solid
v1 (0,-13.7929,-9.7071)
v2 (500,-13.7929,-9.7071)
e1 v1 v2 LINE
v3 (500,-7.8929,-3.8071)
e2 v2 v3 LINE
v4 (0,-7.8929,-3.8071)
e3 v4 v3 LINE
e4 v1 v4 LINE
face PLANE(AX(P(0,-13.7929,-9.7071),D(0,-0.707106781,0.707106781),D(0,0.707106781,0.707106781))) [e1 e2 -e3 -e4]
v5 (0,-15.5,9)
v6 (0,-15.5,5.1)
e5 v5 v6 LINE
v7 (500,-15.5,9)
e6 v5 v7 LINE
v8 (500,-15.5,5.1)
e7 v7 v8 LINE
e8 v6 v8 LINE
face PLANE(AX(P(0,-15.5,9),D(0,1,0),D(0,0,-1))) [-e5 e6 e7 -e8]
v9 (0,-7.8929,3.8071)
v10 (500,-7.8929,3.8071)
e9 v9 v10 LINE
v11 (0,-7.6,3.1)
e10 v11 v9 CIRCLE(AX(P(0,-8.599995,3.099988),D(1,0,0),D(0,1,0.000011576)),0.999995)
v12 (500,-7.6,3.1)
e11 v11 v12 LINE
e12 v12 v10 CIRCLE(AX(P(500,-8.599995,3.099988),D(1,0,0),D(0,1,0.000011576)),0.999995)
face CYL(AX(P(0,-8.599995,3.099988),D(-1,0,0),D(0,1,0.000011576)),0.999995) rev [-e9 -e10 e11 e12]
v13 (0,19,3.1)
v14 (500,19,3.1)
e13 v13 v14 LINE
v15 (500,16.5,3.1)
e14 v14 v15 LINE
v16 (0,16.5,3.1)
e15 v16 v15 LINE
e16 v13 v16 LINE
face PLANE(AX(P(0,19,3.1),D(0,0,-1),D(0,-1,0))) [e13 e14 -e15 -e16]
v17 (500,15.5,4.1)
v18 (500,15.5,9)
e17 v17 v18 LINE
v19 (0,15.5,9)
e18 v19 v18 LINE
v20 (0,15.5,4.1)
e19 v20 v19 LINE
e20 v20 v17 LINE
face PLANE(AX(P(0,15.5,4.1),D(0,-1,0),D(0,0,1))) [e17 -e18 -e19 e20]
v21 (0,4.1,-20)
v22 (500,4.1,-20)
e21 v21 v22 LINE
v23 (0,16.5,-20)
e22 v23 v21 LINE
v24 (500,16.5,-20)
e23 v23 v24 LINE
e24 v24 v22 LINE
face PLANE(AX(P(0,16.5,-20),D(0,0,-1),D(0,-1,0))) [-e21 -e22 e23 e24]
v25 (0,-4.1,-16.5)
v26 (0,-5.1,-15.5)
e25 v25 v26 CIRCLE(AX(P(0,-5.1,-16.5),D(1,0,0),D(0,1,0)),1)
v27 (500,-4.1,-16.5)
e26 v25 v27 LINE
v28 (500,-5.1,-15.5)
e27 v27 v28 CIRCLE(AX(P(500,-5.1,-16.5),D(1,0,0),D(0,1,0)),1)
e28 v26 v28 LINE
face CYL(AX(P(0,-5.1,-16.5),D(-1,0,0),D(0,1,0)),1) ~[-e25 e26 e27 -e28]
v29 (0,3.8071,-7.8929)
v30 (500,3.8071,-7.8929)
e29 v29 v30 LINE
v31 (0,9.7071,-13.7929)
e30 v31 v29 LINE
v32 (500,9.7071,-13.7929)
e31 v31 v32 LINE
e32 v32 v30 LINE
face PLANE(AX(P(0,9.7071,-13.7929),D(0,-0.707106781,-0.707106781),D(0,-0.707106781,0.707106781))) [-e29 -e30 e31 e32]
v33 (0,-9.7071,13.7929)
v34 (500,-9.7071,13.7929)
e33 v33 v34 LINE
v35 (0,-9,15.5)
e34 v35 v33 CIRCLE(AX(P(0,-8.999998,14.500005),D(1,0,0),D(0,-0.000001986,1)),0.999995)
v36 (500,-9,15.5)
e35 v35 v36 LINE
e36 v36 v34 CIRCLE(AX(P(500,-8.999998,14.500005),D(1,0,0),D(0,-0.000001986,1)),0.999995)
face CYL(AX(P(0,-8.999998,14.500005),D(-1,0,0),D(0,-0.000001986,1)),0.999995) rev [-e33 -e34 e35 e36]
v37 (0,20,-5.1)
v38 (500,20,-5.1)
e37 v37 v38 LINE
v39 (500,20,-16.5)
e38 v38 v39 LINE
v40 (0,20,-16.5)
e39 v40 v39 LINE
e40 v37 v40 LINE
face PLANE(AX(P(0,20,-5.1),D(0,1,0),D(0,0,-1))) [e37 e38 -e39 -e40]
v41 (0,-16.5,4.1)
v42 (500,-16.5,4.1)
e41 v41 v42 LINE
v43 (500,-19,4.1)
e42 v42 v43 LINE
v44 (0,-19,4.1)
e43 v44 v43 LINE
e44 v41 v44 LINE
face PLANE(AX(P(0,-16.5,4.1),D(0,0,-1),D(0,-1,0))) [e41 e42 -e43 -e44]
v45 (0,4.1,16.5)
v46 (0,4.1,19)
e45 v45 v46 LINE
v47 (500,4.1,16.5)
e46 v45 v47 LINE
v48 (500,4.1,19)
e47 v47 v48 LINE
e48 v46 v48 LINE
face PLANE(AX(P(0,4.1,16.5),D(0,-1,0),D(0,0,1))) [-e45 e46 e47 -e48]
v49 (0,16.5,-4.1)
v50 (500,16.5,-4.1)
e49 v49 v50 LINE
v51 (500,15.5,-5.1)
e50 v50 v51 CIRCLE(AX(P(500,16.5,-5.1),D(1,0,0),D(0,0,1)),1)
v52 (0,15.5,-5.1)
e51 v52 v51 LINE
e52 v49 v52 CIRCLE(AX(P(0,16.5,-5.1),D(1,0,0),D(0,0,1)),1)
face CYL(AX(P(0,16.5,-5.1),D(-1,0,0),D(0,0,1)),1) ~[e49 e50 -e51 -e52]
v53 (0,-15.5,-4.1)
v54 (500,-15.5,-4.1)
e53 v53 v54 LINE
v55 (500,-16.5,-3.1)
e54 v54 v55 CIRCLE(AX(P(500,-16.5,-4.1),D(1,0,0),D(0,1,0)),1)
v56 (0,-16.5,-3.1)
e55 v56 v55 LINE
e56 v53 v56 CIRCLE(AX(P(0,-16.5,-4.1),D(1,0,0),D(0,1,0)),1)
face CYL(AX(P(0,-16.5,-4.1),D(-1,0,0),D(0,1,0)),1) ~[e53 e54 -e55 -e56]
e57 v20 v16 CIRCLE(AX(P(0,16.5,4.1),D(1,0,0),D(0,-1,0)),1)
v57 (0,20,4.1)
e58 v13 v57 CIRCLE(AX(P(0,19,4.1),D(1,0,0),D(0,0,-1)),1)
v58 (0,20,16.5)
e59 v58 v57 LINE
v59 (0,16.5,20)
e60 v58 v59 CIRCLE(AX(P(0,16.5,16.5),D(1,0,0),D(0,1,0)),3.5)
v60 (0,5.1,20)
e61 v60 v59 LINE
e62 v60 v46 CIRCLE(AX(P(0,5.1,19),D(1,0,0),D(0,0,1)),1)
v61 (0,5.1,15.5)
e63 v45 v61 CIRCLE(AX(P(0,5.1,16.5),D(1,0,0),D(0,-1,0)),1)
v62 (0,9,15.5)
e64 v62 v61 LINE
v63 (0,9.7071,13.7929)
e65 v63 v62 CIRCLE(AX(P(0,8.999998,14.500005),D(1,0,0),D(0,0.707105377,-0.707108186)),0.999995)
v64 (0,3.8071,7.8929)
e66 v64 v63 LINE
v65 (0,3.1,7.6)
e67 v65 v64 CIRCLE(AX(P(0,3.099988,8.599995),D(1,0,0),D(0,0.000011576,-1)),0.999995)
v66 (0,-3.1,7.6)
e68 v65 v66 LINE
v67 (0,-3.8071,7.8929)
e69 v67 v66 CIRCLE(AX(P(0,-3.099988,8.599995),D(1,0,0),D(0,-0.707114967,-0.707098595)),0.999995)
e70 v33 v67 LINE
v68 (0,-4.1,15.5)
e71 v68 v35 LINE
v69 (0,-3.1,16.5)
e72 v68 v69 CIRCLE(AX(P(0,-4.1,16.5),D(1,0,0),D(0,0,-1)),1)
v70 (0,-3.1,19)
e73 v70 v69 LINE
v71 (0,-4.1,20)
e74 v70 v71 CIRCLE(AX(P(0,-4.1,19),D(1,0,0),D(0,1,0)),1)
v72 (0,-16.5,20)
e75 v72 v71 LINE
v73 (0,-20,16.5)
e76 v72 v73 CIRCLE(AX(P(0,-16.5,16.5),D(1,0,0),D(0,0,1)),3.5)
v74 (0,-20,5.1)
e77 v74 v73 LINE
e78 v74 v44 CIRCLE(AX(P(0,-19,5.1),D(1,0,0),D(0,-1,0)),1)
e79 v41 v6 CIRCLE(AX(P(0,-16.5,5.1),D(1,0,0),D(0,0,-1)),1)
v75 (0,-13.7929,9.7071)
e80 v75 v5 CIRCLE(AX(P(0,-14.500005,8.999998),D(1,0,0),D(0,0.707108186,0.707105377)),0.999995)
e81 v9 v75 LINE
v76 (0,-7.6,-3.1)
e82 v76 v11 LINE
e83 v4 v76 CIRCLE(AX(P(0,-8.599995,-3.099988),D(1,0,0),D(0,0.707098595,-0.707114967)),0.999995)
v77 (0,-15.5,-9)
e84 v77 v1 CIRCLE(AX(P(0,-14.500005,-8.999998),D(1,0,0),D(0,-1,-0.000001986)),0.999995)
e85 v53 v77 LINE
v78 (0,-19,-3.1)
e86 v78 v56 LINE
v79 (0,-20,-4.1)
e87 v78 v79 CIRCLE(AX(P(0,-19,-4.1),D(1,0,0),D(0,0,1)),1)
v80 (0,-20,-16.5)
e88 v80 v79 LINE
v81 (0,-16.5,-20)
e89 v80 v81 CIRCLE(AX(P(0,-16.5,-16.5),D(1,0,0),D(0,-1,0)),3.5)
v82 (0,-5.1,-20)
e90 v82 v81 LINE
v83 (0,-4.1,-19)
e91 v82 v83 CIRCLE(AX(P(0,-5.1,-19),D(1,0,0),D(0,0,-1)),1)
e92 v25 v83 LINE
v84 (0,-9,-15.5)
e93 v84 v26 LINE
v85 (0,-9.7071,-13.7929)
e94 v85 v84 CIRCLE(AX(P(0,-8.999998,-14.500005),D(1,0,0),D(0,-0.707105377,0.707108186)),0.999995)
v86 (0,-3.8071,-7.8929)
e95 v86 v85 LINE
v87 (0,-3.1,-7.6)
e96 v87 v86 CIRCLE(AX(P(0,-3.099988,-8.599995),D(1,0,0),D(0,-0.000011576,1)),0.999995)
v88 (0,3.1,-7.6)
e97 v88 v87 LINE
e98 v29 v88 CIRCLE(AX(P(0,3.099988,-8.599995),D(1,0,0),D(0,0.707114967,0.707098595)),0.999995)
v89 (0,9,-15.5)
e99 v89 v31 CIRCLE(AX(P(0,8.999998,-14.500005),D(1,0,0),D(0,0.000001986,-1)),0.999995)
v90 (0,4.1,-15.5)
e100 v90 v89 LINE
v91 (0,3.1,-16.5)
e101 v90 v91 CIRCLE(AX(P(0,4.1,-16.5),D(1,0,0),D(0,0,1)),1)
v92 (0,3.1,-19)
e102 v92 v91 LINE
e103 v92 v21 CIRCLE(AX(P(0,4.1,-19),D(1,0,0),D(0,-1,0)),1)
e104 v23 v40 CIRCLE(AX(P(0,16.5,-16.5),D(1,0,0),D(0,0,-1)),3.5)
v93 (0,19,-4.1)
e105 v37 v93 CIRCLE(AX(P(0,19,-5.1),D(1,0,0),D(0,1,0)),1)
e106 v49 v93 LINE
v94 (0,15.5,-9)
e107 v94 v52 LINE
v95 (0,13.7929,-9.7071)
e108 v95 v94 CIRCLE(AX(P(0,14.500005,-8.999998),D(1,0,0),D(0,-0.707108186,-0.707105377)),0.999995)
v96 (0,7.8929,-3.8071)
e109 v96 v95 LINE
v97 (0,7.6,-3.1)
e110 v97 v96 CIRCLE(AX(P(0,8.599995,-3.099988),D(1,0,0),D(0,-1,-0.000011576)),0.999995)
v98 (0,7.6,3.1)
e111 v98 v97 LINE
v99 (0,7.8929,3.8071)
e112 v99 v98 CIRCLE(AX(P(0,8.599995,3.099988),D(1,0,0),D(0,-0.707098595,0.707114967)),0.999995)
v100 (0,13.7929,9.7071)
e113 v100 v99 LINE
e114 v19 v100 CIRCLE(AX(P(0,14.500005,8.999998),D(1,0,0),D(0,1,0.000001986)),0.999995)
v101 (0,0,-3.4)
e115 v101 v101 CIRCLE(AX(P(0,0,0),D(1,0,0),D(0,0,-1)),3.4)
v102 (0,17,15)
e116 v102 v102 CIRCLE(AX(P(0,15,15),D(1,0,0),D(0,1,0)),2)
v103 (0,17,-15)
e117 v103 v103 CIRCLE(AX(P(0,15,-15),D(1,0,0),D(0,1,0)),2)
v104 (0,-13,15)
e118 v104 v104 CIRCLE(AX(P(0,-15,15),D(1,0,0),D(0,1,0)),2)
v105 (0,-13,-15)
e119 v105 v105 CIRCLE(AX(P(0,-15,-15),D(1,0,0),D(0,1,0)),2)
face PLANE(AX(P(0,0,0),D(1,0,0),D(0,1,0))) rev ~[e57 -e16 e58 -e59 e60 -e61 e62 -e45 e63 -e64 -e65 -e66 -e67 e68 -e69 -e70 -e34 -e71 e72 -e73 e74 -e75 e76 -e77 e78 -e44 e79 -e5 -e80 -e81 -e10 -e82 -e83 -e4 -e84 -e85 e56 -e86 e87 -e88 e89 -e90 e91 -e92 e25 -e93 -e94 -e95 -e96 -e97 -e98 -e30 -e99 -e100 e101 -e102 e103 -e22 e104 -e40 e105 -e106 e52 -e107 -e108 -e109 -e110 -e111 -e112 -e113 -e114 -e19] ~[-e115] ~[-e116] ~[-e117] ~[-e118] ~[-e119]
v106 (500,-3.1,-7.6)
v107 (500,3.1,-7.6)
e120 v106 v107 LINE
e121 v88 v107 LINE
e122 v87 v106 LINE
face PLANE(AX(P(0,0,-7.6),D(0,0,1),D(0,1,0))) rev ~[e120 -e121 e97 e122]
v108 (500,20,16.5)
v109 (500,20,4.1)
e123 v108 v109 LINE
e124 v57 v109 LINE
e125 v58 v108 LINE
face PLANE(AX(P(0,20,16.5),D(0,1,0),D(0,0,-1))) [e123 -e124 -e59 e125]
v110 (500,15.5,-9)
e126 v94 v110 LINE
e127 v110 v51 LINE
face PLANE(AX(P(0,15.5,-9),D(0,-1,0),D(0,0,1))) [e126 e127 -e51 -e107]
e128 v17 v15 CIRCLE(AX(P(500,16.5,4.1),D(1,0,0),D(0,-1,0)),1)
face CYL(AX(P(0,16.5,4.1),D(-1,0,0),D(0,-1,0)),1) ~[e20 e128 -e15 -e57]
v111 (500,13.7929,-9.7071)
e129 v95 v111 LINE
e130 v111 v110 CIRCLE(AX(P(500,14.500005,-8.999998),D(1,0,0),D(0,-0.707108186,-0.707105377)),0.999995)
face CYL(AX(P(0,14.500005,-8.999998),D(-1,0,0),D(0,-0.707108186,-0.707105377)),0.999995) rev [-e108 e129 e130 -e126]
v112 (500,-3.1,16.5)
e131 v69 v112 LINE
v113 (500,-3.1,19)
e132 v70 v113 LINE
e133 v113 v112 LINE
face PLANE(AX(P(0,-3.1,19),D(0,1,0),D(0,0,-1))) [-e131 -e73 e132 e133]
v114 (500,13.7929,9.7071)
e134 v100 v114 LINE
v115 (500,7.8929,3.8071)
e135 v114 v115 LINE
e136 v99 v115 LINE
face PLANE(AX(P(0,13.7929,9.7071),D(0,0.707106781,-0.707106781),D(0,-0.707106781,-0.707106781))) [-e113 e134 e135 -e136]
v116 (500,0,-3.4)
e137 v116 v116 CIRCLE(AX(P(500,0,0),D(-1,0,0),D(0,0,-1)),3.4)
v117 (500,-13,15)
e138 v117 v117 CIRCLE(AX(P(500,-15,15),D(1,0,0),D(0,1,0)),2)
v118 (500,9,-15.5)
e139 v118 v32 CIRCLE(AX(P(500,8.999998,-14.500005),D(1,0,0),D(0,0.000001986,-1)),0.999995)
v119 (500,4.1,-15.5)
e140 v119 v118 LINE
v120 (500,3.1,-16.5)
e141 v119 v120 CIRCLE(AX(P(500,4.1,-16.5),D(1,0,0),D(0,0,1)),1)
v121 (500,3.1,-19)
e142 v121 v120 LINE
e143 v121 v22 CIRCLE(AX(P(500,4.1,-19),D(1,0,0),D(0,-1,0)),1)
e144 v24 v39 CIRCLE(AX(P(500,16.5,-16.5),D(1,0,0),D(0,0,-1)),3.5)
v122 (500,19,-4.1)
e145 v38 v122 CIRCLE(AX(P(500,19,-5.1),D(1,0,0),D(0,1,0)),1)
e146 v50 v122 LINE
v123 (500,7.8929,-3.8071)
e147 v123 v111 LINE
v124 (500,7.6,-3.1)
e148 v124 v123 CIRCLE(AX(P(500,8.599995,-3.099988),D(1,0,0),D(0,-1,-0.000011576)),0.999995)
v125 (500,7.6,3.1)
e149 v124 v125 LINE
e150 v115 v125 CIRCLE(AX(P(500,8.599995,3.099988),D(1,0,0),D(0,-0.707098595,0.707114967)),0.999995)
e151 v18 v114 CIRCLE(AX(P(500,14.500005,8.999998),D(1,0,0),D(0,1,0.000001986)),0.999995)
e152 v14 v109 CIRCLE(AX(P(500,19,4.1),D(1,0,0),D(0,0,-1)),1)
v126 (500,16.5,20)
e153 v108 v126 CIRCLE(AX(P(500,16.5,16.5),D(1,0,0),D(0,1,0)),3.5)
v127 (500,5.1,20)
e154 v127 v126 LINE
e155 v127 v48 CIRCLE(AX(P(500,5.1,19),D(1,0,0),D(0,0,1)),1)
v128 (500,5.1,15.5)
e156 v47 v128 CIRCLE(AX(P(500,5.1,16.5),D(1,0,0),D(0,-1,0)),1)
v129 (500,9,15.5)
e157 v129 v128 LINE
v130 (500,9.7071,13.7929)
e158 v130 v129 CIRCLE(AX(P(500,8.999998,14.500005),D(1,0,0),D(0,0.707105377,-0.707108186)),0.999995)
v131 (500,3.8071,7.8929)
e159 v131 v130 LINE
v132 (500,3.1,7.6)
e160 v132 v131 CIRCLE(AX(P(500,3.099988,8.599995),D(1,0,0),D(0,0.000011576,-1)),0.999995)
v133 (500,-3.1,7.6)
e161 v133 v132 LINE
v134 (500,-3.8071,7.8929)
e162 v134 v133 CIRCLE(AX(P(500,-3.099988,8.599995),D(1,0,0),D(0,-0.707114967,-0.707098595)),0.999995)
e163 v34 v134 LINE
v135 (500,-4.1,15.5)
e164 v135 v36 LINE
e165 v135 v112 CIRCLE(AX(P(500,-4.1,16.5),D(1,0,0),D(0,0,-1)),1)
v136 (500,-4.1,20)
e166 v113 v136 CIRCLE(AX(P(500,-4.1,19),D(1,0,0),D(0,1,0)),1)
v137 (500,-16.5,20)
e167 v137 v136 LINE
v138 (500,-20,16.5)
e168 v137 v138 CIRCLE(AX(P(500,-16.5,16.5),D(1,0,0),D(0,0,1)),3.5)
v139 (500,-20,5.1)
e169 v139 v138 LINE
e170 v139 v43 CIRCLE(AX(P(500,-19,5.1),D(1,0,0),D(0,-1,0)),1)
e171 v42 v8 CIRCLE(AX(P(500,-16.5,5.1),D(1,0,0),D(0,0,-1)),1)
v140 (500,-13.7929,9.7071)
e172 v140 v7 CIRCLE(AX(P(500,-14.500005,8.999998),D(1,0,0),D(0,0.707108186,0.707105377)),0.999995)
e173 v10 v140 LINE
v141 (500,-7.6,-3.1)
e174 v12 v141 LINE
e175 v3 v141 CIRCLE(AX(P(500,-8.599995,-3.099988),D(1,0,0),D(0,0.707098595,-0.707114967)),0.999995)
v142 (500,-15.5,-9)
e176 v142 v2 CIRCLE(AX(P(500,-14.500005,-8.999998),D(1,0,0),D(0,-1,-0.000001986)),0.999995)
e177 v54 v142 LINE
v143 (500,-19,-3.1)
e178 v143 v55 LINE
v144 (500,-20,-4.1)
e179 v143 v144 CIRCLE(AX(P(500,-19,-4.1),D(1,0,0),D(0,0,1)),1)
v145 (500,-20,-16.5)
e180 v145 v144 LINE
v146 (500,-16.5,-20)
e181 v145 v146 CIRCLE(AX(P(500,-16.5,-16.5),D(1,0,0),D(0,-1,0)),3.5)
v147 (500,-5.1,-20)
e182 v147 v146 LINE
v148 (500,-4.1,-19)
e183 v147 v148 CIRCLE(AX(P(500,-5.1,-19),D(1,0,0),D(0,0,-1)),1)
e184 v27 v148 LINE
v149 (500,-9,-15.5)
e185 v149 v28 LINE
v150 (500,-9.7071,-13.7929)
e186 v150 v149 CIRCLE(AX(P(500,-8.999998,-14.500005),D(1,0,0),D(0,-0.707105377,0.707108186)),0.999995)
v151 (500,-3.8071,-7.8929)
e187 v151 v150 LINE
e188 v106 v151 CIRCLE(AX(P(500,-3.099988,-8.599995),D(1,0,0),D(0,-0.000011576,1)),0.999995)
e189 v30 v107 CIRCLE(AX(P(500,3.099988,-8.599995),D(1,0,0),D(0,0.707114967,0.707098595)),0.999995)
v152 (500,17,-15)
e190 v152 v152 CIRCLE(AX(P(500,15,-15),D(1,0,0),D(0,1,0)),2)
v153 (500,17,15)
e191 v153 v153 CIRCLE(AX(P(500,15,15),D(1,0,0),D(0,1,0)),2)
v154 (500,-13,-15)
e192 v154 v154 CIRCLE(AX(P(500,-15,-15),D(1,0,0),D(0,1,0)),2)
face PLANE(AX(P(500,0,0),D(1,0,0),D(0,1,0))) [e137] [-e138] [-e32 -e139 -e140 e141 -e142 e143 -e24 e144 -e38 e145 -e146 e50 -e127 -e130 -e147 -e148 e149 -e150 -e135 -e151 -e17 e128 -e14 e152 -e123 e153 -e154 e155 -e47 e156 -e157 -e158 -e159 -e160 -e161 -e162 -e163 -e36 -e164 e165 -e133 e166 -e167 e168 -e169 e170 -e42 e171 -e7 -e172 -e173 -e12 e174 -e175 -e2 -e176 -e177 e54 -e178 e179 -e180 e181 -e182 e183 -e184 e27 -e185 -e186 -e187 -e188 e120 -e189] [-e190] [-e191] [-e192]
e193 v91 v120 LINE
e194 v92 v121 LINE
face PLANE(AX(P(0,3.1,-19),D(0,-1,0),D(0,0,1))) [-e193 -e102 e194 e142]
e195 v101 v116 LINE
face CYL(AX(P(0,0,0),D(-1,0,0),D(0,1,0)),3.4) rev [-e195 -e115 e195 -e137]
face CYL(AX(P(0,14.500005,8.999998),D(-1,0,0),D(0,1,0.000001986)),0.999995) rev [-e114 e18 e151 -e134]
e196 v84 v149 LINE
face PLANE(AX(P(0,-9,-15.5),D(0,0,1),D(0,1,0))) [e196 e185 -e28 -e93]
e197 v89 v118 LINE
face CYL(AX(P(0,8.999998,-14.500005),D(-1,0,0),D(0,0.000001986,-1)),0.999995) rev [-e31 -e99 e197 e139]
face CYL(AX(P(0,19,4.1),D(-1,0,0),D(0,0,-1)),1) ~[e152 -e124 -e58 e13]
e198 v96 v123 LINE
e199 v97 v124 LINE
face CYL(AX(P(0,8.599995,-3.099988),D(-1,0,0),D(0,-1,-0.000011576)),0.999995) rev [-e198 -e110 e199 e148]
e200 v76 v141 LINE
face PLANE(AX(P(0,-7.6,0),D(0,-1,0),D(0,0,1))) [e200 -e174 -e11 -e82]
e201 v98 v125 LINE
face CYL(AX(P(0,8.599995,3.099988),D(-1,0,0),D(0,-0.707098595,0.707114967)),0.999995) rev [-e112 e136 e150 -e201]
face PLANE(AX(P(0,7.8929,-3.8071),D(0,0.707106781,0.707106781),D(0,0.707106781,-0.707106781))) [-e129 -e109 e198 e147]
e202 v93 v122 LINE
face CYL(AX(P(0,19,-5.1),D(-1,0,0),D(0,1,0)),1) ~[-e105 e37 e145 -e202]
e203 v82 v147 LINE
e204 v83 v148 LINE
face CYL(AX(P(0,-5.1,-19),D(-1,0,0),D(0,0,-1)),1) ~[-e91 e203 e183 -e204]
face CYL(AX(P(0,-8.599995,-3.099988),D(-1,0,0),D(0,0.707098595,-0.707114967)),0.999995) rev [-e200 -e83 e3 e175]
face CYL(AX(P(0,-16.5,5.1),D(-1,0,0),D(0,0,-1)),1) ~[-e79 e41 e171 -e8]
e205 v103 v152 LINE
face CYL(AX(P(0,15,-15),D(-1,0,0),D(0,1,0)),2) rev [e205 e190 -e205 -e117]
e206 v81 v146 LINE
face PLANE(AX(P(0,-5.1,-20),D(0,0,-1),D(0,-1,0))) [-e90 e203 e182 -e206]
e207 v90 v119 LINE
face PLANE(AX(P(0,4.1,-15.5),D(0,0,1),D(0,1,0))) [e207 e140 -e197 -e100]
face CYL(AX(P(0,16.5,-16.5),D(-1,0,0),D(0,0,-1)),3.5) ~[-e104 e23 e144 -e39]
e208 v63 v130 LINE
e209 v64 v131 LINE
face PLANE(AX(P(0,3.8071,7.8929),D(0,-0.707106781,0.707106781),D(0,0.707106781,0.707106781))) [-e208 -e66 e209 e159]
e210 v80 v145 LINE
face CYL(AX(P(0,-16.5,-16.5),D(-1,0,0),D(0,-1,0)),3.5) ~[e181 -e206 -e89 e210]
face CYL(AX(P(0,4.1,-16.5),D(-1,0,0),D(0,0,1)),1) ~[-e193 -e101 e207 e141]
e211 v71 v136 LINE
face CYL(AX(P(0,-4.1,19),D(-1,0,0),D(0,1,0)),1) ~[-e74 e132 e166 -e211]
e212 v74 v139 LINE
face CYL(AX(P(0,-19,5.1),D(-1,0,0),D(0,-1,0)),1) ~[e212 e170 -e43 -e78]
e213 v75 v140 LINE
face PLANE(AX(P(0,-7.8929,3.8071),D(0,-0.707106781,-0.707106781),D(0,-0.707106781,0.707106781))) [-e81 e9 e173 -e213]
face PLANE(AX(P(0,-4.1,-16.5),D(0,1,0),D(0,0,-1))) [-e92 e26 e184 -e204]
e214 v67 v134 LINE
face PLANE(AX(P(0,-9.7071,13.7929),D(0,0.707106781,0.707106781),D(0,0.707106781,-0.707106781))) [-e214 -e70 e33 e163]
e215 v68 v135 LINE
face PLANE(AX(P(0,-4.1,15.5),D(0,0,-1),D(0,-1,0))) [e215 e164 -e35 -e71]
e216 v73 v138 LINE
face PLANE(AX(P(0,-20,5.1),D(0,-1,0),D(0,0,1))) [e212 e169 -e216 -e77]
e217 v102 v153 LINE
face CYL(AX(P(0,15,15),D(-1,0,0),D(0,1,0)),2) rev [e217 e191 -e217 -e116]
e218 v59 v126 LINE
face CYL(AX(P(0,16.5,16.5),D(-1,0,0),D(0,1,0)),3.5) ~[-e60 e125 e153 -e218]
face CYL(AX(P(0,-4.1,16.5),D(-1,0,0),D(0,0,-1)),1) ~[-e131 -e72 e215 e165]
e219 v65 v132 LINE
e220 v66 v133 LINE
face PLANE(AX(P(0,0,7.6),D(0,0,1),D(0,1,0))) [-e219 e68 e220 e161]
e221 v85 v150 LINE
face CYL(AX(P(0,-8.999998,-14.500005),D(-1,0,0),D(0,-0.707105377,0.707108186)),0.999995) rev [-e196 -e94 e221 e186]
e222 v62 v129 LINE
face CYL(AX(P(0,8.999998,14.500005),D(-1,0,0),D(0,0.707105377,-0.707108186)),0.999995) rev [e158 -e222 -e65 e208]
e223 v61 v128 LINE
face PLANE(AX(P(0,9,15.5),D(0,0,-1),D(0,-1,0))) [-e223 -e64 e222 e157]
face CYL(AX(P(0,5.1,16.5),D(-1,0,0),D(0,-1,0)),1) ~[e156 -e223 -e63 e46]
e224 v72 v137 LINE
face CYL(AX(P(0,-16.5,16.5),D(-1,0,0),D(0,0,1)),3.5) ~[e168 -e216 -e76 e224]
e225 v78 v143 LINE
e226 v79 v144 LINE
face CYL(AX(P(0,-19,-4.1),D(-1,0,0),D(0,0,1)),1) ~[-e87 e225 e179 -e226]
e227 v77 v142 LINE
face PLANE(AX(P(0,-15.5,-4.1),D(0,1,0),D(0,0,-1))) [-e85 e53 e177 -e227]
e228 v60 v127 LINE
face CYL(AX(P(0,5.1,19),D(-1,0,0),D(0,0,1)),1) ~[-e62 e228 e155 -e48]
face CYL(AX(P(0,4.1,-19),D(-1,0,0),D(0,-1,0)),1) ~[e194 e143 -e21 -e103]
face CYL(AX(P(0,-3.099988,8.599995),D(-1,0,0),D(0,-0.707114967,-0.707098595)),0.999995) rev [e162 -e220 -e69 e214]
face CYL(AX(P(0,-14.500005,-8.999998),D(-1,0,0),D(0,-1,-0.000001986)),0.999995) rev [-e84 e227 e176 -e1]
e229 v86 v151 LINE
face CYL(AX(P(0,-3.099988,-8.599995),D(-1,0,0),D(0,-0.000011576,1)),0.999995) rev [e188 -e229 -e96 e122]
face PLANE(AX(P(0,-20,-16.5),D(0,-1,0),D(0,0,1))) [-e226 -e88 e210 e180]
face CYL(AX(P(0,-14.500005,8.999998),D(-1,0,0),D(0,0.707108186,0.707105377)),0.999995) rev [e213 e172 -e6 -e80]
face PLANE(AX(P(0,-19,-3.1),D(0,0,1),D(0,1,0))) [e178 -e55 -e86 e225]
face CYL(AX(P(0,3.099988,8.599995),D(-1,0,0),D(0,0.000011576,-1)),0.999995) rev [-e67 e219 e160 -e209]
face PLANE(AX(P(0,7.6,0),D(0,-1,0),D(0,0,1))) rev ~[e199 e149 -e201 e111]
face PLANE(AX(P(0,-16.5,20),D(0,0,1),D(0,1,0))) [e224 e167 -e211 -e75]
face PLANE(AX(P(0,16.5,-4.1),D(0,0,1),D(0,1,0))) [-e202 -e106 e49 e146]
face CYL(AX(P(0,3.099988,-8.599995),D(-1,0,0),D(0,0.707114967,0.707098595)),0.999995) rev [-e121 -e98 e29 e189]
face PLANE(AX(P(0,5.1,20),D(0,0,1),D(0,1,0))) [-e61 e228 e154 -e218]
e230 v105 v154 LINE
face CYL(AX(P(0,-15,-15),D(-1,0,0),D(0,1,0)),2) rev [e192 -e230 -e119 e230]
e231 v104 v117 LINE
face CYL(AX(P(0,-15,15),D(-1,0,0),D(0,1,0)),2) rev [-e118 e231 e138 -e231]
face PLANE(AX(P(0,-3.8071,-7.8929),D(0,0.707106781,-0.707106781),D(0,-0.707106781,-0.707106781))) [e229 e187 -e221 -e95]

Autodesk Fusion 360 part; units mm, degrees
sketch "Sketch1" plane through (0, 0, 0) normal (1, 0, 0) x (0, 1, 0)
  line L0 (0, 0) -> (0, 40) construction
  line L1 (0, 0) -> (40, 0) construction
  line L2 (0, 7.6) -> (3.1, 7.6)
  arc A0 (3.1, 7.6) -> (3.8071, 7.8929) centre (3.1, 8.6) ccw
  line L3 (3.8071, 7.8929) -> (9.7071, 13.7929)
  arc A1 (9.7071, 13.7929) -> (9, 15.5) centre (9, 14.5) ccw
  line L4 (9, 15.5) -> (5.1, 15.5)
  arc A2 (4.1, 16.5) -> (5.1, 15.5) centre (5.1, 16.5) ccw
  line L5 (4.1, 16.5) -> (4.1, 19)
  arc A3 (5.1, 20) -> (4.1, 19) centre (5.1, 19) ccw
  line L6 (5.1, 20) -> (16.5, 20)
  arc A4 (20, 16.5) -> (16.5, 20) centre (16.5, 16.5) ccw
  line L7 (20, 16.5) -> (20, 4.1)
  arc A5 (19, 3.1) -> (20, 4.1) centre (19, 4.1) ccw
  line L8 (19, 3.1) -> (16.5, 3.1)
  arc A6 (15.5, 4.1) -> (16.5, 3.1) centre (16.5, 4.1) ccw
  line L9 (15.5, 4.1) -> (15.5, 9)
  line L10 (7.6, 0) -> (7.6, 3.1)
  arc A7 (15.5, 9) -> (13.7929, 9.7071) centre (14.5, 9) ccw
  line L11 (13.7929, 9.7071) -> (7.8929, 3.8071)
  arc A8 (7.8929, 3.8071) -> (7.6, 3.1) centre (8.6, 3.1) ccw
  arc A9 (3.4, 0) -> (0, 3.4) centre (0, 0) ccw
  line L12 (0, 0) -> (3.4, 0) construction
  line L13 (0, 0) -> (0, 3.4) construction
  line L14 (0, 7.6) -> (0, 3.4)
  line L15 (3.4, 0) -> (7.6, 0)
  line L16 (-7.6, 0) -> (-3.4, 0)
  arc A10 (-3.8071, 7.8929) -> (-3.1, 7.6) centre (-3.1, 8.6) ccw
  line L17 (-7.6, 0) -> (-7.6, 3.1)
  arc A11 (-7.6, 3.1) -> (-7.8929, 3.8071) centre (-8.6, 3.1) ccw
  line L18 (0, 7.6) -> (-3.1, 7.6)
  line L19 (0, 3.4) -> (0, 7.6)
  arc A12 (0, 3.4) -> (-3.4, 0) centre (0, 0) ccw
  arc A13 (-13.7929, 9.7071) -> (-15.5, 9) centre (-14.5, 9) ccw
  line L20 (-20, 5.1) -> (-20, 16.5)
  arc A14 (-16.5, 20) -> (-20, 16.5) centre (-16.5, 16.5) ccw
  arc A15 (-20, 5.1) -> (-19, 4.1) centre (-19, 5.1) ccw
  arc A16 (-16.5, 4.1) -> (-15.5, 5.1) centre (-16.5, 5.1) ccw
  arc A17 (-9, 15.5) -> (-9.7071, 13.7929) centre (-9, 14.5) ccw
  line L21 (-7.8929, 3.8071) -> (-13.7929, 9.7071)
  line L22 (-15.5, 9) -> (-15.5, 5.1)
  line L23 (-16.5, 4.1) -> (-19, 4.1)
  arc A18 (-3.1, 19) -> (-4.1, 20) centre (-4.1, 19) ccw
  line L24 (-16.5, 20) -> (-4.1, 20)
  line L25 (-4.1, 15.5) -> (-9, 15.5)
  line L26 (-3.1, 19) -> (-3.1, 16.5)
  arc A19 (-4.1, 15.5) -> (-3.1, 16.5) centre (-4.1, 16.5) ccw
  line L27 (-9.7071, 13.7929) -> (-3.8071, 7.8929)
  line L28 (0, -7.6) -> (0, -3.4)
  arc A20 (-7.8929, -3.8071) -> (-7.6, -3.1) centre (-8.6, -3.1) ccw
  line L29 (0, -7.6) -> (-3.1, -7.6)
  arc A21 (-3.1, -7.6) -> (-3.8071, -7.8929) centre (-3.1, -8.6) ccw
  line L30 (-7.6, 0) -> (-7.6, -3.1)
  line L31 (-3.4, 0) -> (-7.6, 0)
  arc A22 (-3.4, 0) -> (0, -3.4) centre (0, 0) ccw
  arc A23 (-9.7071, -13.7929) -> (-9, -15.5) centre (-9, -14.5) ccw
  line L32 (-5.1, -20) -> (-16.5, -20)
  arc A24 (-20, -16.5) -> (-16.5, -20) centre (-16.5, -16.5) ccw
  arc A25 (-5.1, -20) -> (-4.1, -19) centre (-5.1, -19) ccw
  arc A26 (-4.1, -16.5) -> (-5.1, -15.5) centre (-5.1, -16.5) ccw
  arc A27 (-15.5, -9) -> (-13.7929, -9.7071) centre (-14.5, -9) ccw
  line L33 (-3.8071, -7.8929) -> (-9.7071, -13.7929)
  line L34 (-9, -15.5) -> (-5.1, -15.5)
  line L35 (-4.1, -16.5) -> (-4.1, -19)
  arc A28 (-19, -3.1) -> (-20, -4.1) centre (-19, -4.1) ccw
  line L36 (-20, -16.5) -> (-20, -4.1)
  line L37 (-15.5, -4.1) -> (-15.5, -9)
  line L38 (-19, -3.1) -> (-16.5, -3.1)
  arc A29 (-15.5, -4.1) -> (-16.5, -3.1) centre (-16.5, -4.1) ccw
  line L39 (-13.7929, -9.7071) -> (-7.8929, -3.8071)
  line L40 (7.6, 0) -> (3.4, 0)
  arc A30 (3.8071, -7.8929) -> (3.1, -7.6) centre (3.1, -8.6) ccw
  line L41 (7.6, 0) -> (7.6, -3.1)
  arc A31 (7.6, -3.1) -> (7.8929, -3.8071) centre (8.6, -3.1) ccw
  line L42 (0, -7.6) -> (3.1, -7.6)
  line L43 (0, -3.4) -> (0, -7.6)
  arc A32 (0, -3.4) -> (3.4, 0) centre (0, 0) ccw
  arc A33 (13.7929, -9.7071) -> (15.5, -9) centre (14.5, -9) ccw
  line L44 (20, -5.1) -> (20, -16.5)
  arc A34 (16.5, -20) -> (20, -16.5) centre (16.5, -16.5) ccw
  arc A35 (20, -5.1) -> (19, -4.1) centre (19, -5.1) ccw
  arc A36 (16.5, -4.1) -> (15.5, -5.1) centre (16.5, -5.1) ccw
  arc A37 (9, -15.5) -> (9.7071, -13.7929) centre (9, -14.5) ccw
  line L45 (7.8929, -3.8071) -> (13.7929, -9.7071)
  line L46 (15.5, -9) -> (15.5, -5.1)
  line L47 (16.5, -4.1) -> (19, -4.1)
  arc A38 (3.1, -19) -> (4.1, -20) centre (4.1, -19) ccw
  line L48 (16.5, -20) -> (4.1, -20)
  line L49 (4.1, -15.5) -> (9, -15.5)
  line L50 (3.1, -19) -> (3.1, -16.5)
  arc A39 (4.1, -15.5) -> (3.1, -16.5) centre (4.1, -16.5) ccw
  line L51 (9.7071, -13.7929) -> (3.8071, -7.8929)
  circle A40 centre (15, 15) radius 2
  circle A41 centre (-15, 15) radius 2
  circle A42 centre (-15, -15) radius 2
  circle A43 centre (15, -15) radius 2
  dimension "d26" = 40
  dimension "d27" = 40
  dimension "d31" = 20
  dimension "d32" = 3.5
  dimension "d33" = 7.6
  dimension "d35" = 4.5
  dimension "d36" = 1
  dimension "d37" = 1
  dimension "d38" = 1
  dimension "d39" = 1
  dimension "d40" = 4.5
  dimension "d41" = 4.1
  dimension "d42" = 4.1
  dimension "d43" = 16.5
  dimension "d44" = 7.6
  dimension "d45" = 1
  dimension "d46" = 1
  dimension "d47" = 1
  dimension "d48" = 1
  dimension "d49" = 9
  dimension "d50" = 9
  dimension "d51" = 1
  dimension "d52" = 1
  dimension "d53" = 3.4
  dimension "d54" = 90
  dimension "d56" = 360
  dimension "d60" = 4
  dimension "d61" = 15
  dimension "d62" = 15
extrude "Extrude2" add sketch "Sketch1" along normal blind 500 contours L2 A0 L3 A1 L4 A2 L5 A3 L6 A4 L7 A5 L8 A6 L9 L10 A7 L11 A8 A9 L14 L15 L19 L40 | L14 L16 A10 L17 A11 L18 L19 A12 A13 L20 A14 A15 A16 A17 L21 L22 L23 A18 L24 L25 L26 A19 L27 L31 | L15 L28 L40 A30 L41 A31 L42 L43 A32 A33 L44 A34 A35 A36 A37 L45 L46 L47 A38 L48 L49 L50 A39 L51 | L16 L28 A20 L29 A21 L30 L31 A22 A23 L32 A24 A25 A26 A27 L33 L34 L35 A28 L36 L37 L38 A29 L39 L43
equation "Length = 500 mm"
equation "d63 = Length"
